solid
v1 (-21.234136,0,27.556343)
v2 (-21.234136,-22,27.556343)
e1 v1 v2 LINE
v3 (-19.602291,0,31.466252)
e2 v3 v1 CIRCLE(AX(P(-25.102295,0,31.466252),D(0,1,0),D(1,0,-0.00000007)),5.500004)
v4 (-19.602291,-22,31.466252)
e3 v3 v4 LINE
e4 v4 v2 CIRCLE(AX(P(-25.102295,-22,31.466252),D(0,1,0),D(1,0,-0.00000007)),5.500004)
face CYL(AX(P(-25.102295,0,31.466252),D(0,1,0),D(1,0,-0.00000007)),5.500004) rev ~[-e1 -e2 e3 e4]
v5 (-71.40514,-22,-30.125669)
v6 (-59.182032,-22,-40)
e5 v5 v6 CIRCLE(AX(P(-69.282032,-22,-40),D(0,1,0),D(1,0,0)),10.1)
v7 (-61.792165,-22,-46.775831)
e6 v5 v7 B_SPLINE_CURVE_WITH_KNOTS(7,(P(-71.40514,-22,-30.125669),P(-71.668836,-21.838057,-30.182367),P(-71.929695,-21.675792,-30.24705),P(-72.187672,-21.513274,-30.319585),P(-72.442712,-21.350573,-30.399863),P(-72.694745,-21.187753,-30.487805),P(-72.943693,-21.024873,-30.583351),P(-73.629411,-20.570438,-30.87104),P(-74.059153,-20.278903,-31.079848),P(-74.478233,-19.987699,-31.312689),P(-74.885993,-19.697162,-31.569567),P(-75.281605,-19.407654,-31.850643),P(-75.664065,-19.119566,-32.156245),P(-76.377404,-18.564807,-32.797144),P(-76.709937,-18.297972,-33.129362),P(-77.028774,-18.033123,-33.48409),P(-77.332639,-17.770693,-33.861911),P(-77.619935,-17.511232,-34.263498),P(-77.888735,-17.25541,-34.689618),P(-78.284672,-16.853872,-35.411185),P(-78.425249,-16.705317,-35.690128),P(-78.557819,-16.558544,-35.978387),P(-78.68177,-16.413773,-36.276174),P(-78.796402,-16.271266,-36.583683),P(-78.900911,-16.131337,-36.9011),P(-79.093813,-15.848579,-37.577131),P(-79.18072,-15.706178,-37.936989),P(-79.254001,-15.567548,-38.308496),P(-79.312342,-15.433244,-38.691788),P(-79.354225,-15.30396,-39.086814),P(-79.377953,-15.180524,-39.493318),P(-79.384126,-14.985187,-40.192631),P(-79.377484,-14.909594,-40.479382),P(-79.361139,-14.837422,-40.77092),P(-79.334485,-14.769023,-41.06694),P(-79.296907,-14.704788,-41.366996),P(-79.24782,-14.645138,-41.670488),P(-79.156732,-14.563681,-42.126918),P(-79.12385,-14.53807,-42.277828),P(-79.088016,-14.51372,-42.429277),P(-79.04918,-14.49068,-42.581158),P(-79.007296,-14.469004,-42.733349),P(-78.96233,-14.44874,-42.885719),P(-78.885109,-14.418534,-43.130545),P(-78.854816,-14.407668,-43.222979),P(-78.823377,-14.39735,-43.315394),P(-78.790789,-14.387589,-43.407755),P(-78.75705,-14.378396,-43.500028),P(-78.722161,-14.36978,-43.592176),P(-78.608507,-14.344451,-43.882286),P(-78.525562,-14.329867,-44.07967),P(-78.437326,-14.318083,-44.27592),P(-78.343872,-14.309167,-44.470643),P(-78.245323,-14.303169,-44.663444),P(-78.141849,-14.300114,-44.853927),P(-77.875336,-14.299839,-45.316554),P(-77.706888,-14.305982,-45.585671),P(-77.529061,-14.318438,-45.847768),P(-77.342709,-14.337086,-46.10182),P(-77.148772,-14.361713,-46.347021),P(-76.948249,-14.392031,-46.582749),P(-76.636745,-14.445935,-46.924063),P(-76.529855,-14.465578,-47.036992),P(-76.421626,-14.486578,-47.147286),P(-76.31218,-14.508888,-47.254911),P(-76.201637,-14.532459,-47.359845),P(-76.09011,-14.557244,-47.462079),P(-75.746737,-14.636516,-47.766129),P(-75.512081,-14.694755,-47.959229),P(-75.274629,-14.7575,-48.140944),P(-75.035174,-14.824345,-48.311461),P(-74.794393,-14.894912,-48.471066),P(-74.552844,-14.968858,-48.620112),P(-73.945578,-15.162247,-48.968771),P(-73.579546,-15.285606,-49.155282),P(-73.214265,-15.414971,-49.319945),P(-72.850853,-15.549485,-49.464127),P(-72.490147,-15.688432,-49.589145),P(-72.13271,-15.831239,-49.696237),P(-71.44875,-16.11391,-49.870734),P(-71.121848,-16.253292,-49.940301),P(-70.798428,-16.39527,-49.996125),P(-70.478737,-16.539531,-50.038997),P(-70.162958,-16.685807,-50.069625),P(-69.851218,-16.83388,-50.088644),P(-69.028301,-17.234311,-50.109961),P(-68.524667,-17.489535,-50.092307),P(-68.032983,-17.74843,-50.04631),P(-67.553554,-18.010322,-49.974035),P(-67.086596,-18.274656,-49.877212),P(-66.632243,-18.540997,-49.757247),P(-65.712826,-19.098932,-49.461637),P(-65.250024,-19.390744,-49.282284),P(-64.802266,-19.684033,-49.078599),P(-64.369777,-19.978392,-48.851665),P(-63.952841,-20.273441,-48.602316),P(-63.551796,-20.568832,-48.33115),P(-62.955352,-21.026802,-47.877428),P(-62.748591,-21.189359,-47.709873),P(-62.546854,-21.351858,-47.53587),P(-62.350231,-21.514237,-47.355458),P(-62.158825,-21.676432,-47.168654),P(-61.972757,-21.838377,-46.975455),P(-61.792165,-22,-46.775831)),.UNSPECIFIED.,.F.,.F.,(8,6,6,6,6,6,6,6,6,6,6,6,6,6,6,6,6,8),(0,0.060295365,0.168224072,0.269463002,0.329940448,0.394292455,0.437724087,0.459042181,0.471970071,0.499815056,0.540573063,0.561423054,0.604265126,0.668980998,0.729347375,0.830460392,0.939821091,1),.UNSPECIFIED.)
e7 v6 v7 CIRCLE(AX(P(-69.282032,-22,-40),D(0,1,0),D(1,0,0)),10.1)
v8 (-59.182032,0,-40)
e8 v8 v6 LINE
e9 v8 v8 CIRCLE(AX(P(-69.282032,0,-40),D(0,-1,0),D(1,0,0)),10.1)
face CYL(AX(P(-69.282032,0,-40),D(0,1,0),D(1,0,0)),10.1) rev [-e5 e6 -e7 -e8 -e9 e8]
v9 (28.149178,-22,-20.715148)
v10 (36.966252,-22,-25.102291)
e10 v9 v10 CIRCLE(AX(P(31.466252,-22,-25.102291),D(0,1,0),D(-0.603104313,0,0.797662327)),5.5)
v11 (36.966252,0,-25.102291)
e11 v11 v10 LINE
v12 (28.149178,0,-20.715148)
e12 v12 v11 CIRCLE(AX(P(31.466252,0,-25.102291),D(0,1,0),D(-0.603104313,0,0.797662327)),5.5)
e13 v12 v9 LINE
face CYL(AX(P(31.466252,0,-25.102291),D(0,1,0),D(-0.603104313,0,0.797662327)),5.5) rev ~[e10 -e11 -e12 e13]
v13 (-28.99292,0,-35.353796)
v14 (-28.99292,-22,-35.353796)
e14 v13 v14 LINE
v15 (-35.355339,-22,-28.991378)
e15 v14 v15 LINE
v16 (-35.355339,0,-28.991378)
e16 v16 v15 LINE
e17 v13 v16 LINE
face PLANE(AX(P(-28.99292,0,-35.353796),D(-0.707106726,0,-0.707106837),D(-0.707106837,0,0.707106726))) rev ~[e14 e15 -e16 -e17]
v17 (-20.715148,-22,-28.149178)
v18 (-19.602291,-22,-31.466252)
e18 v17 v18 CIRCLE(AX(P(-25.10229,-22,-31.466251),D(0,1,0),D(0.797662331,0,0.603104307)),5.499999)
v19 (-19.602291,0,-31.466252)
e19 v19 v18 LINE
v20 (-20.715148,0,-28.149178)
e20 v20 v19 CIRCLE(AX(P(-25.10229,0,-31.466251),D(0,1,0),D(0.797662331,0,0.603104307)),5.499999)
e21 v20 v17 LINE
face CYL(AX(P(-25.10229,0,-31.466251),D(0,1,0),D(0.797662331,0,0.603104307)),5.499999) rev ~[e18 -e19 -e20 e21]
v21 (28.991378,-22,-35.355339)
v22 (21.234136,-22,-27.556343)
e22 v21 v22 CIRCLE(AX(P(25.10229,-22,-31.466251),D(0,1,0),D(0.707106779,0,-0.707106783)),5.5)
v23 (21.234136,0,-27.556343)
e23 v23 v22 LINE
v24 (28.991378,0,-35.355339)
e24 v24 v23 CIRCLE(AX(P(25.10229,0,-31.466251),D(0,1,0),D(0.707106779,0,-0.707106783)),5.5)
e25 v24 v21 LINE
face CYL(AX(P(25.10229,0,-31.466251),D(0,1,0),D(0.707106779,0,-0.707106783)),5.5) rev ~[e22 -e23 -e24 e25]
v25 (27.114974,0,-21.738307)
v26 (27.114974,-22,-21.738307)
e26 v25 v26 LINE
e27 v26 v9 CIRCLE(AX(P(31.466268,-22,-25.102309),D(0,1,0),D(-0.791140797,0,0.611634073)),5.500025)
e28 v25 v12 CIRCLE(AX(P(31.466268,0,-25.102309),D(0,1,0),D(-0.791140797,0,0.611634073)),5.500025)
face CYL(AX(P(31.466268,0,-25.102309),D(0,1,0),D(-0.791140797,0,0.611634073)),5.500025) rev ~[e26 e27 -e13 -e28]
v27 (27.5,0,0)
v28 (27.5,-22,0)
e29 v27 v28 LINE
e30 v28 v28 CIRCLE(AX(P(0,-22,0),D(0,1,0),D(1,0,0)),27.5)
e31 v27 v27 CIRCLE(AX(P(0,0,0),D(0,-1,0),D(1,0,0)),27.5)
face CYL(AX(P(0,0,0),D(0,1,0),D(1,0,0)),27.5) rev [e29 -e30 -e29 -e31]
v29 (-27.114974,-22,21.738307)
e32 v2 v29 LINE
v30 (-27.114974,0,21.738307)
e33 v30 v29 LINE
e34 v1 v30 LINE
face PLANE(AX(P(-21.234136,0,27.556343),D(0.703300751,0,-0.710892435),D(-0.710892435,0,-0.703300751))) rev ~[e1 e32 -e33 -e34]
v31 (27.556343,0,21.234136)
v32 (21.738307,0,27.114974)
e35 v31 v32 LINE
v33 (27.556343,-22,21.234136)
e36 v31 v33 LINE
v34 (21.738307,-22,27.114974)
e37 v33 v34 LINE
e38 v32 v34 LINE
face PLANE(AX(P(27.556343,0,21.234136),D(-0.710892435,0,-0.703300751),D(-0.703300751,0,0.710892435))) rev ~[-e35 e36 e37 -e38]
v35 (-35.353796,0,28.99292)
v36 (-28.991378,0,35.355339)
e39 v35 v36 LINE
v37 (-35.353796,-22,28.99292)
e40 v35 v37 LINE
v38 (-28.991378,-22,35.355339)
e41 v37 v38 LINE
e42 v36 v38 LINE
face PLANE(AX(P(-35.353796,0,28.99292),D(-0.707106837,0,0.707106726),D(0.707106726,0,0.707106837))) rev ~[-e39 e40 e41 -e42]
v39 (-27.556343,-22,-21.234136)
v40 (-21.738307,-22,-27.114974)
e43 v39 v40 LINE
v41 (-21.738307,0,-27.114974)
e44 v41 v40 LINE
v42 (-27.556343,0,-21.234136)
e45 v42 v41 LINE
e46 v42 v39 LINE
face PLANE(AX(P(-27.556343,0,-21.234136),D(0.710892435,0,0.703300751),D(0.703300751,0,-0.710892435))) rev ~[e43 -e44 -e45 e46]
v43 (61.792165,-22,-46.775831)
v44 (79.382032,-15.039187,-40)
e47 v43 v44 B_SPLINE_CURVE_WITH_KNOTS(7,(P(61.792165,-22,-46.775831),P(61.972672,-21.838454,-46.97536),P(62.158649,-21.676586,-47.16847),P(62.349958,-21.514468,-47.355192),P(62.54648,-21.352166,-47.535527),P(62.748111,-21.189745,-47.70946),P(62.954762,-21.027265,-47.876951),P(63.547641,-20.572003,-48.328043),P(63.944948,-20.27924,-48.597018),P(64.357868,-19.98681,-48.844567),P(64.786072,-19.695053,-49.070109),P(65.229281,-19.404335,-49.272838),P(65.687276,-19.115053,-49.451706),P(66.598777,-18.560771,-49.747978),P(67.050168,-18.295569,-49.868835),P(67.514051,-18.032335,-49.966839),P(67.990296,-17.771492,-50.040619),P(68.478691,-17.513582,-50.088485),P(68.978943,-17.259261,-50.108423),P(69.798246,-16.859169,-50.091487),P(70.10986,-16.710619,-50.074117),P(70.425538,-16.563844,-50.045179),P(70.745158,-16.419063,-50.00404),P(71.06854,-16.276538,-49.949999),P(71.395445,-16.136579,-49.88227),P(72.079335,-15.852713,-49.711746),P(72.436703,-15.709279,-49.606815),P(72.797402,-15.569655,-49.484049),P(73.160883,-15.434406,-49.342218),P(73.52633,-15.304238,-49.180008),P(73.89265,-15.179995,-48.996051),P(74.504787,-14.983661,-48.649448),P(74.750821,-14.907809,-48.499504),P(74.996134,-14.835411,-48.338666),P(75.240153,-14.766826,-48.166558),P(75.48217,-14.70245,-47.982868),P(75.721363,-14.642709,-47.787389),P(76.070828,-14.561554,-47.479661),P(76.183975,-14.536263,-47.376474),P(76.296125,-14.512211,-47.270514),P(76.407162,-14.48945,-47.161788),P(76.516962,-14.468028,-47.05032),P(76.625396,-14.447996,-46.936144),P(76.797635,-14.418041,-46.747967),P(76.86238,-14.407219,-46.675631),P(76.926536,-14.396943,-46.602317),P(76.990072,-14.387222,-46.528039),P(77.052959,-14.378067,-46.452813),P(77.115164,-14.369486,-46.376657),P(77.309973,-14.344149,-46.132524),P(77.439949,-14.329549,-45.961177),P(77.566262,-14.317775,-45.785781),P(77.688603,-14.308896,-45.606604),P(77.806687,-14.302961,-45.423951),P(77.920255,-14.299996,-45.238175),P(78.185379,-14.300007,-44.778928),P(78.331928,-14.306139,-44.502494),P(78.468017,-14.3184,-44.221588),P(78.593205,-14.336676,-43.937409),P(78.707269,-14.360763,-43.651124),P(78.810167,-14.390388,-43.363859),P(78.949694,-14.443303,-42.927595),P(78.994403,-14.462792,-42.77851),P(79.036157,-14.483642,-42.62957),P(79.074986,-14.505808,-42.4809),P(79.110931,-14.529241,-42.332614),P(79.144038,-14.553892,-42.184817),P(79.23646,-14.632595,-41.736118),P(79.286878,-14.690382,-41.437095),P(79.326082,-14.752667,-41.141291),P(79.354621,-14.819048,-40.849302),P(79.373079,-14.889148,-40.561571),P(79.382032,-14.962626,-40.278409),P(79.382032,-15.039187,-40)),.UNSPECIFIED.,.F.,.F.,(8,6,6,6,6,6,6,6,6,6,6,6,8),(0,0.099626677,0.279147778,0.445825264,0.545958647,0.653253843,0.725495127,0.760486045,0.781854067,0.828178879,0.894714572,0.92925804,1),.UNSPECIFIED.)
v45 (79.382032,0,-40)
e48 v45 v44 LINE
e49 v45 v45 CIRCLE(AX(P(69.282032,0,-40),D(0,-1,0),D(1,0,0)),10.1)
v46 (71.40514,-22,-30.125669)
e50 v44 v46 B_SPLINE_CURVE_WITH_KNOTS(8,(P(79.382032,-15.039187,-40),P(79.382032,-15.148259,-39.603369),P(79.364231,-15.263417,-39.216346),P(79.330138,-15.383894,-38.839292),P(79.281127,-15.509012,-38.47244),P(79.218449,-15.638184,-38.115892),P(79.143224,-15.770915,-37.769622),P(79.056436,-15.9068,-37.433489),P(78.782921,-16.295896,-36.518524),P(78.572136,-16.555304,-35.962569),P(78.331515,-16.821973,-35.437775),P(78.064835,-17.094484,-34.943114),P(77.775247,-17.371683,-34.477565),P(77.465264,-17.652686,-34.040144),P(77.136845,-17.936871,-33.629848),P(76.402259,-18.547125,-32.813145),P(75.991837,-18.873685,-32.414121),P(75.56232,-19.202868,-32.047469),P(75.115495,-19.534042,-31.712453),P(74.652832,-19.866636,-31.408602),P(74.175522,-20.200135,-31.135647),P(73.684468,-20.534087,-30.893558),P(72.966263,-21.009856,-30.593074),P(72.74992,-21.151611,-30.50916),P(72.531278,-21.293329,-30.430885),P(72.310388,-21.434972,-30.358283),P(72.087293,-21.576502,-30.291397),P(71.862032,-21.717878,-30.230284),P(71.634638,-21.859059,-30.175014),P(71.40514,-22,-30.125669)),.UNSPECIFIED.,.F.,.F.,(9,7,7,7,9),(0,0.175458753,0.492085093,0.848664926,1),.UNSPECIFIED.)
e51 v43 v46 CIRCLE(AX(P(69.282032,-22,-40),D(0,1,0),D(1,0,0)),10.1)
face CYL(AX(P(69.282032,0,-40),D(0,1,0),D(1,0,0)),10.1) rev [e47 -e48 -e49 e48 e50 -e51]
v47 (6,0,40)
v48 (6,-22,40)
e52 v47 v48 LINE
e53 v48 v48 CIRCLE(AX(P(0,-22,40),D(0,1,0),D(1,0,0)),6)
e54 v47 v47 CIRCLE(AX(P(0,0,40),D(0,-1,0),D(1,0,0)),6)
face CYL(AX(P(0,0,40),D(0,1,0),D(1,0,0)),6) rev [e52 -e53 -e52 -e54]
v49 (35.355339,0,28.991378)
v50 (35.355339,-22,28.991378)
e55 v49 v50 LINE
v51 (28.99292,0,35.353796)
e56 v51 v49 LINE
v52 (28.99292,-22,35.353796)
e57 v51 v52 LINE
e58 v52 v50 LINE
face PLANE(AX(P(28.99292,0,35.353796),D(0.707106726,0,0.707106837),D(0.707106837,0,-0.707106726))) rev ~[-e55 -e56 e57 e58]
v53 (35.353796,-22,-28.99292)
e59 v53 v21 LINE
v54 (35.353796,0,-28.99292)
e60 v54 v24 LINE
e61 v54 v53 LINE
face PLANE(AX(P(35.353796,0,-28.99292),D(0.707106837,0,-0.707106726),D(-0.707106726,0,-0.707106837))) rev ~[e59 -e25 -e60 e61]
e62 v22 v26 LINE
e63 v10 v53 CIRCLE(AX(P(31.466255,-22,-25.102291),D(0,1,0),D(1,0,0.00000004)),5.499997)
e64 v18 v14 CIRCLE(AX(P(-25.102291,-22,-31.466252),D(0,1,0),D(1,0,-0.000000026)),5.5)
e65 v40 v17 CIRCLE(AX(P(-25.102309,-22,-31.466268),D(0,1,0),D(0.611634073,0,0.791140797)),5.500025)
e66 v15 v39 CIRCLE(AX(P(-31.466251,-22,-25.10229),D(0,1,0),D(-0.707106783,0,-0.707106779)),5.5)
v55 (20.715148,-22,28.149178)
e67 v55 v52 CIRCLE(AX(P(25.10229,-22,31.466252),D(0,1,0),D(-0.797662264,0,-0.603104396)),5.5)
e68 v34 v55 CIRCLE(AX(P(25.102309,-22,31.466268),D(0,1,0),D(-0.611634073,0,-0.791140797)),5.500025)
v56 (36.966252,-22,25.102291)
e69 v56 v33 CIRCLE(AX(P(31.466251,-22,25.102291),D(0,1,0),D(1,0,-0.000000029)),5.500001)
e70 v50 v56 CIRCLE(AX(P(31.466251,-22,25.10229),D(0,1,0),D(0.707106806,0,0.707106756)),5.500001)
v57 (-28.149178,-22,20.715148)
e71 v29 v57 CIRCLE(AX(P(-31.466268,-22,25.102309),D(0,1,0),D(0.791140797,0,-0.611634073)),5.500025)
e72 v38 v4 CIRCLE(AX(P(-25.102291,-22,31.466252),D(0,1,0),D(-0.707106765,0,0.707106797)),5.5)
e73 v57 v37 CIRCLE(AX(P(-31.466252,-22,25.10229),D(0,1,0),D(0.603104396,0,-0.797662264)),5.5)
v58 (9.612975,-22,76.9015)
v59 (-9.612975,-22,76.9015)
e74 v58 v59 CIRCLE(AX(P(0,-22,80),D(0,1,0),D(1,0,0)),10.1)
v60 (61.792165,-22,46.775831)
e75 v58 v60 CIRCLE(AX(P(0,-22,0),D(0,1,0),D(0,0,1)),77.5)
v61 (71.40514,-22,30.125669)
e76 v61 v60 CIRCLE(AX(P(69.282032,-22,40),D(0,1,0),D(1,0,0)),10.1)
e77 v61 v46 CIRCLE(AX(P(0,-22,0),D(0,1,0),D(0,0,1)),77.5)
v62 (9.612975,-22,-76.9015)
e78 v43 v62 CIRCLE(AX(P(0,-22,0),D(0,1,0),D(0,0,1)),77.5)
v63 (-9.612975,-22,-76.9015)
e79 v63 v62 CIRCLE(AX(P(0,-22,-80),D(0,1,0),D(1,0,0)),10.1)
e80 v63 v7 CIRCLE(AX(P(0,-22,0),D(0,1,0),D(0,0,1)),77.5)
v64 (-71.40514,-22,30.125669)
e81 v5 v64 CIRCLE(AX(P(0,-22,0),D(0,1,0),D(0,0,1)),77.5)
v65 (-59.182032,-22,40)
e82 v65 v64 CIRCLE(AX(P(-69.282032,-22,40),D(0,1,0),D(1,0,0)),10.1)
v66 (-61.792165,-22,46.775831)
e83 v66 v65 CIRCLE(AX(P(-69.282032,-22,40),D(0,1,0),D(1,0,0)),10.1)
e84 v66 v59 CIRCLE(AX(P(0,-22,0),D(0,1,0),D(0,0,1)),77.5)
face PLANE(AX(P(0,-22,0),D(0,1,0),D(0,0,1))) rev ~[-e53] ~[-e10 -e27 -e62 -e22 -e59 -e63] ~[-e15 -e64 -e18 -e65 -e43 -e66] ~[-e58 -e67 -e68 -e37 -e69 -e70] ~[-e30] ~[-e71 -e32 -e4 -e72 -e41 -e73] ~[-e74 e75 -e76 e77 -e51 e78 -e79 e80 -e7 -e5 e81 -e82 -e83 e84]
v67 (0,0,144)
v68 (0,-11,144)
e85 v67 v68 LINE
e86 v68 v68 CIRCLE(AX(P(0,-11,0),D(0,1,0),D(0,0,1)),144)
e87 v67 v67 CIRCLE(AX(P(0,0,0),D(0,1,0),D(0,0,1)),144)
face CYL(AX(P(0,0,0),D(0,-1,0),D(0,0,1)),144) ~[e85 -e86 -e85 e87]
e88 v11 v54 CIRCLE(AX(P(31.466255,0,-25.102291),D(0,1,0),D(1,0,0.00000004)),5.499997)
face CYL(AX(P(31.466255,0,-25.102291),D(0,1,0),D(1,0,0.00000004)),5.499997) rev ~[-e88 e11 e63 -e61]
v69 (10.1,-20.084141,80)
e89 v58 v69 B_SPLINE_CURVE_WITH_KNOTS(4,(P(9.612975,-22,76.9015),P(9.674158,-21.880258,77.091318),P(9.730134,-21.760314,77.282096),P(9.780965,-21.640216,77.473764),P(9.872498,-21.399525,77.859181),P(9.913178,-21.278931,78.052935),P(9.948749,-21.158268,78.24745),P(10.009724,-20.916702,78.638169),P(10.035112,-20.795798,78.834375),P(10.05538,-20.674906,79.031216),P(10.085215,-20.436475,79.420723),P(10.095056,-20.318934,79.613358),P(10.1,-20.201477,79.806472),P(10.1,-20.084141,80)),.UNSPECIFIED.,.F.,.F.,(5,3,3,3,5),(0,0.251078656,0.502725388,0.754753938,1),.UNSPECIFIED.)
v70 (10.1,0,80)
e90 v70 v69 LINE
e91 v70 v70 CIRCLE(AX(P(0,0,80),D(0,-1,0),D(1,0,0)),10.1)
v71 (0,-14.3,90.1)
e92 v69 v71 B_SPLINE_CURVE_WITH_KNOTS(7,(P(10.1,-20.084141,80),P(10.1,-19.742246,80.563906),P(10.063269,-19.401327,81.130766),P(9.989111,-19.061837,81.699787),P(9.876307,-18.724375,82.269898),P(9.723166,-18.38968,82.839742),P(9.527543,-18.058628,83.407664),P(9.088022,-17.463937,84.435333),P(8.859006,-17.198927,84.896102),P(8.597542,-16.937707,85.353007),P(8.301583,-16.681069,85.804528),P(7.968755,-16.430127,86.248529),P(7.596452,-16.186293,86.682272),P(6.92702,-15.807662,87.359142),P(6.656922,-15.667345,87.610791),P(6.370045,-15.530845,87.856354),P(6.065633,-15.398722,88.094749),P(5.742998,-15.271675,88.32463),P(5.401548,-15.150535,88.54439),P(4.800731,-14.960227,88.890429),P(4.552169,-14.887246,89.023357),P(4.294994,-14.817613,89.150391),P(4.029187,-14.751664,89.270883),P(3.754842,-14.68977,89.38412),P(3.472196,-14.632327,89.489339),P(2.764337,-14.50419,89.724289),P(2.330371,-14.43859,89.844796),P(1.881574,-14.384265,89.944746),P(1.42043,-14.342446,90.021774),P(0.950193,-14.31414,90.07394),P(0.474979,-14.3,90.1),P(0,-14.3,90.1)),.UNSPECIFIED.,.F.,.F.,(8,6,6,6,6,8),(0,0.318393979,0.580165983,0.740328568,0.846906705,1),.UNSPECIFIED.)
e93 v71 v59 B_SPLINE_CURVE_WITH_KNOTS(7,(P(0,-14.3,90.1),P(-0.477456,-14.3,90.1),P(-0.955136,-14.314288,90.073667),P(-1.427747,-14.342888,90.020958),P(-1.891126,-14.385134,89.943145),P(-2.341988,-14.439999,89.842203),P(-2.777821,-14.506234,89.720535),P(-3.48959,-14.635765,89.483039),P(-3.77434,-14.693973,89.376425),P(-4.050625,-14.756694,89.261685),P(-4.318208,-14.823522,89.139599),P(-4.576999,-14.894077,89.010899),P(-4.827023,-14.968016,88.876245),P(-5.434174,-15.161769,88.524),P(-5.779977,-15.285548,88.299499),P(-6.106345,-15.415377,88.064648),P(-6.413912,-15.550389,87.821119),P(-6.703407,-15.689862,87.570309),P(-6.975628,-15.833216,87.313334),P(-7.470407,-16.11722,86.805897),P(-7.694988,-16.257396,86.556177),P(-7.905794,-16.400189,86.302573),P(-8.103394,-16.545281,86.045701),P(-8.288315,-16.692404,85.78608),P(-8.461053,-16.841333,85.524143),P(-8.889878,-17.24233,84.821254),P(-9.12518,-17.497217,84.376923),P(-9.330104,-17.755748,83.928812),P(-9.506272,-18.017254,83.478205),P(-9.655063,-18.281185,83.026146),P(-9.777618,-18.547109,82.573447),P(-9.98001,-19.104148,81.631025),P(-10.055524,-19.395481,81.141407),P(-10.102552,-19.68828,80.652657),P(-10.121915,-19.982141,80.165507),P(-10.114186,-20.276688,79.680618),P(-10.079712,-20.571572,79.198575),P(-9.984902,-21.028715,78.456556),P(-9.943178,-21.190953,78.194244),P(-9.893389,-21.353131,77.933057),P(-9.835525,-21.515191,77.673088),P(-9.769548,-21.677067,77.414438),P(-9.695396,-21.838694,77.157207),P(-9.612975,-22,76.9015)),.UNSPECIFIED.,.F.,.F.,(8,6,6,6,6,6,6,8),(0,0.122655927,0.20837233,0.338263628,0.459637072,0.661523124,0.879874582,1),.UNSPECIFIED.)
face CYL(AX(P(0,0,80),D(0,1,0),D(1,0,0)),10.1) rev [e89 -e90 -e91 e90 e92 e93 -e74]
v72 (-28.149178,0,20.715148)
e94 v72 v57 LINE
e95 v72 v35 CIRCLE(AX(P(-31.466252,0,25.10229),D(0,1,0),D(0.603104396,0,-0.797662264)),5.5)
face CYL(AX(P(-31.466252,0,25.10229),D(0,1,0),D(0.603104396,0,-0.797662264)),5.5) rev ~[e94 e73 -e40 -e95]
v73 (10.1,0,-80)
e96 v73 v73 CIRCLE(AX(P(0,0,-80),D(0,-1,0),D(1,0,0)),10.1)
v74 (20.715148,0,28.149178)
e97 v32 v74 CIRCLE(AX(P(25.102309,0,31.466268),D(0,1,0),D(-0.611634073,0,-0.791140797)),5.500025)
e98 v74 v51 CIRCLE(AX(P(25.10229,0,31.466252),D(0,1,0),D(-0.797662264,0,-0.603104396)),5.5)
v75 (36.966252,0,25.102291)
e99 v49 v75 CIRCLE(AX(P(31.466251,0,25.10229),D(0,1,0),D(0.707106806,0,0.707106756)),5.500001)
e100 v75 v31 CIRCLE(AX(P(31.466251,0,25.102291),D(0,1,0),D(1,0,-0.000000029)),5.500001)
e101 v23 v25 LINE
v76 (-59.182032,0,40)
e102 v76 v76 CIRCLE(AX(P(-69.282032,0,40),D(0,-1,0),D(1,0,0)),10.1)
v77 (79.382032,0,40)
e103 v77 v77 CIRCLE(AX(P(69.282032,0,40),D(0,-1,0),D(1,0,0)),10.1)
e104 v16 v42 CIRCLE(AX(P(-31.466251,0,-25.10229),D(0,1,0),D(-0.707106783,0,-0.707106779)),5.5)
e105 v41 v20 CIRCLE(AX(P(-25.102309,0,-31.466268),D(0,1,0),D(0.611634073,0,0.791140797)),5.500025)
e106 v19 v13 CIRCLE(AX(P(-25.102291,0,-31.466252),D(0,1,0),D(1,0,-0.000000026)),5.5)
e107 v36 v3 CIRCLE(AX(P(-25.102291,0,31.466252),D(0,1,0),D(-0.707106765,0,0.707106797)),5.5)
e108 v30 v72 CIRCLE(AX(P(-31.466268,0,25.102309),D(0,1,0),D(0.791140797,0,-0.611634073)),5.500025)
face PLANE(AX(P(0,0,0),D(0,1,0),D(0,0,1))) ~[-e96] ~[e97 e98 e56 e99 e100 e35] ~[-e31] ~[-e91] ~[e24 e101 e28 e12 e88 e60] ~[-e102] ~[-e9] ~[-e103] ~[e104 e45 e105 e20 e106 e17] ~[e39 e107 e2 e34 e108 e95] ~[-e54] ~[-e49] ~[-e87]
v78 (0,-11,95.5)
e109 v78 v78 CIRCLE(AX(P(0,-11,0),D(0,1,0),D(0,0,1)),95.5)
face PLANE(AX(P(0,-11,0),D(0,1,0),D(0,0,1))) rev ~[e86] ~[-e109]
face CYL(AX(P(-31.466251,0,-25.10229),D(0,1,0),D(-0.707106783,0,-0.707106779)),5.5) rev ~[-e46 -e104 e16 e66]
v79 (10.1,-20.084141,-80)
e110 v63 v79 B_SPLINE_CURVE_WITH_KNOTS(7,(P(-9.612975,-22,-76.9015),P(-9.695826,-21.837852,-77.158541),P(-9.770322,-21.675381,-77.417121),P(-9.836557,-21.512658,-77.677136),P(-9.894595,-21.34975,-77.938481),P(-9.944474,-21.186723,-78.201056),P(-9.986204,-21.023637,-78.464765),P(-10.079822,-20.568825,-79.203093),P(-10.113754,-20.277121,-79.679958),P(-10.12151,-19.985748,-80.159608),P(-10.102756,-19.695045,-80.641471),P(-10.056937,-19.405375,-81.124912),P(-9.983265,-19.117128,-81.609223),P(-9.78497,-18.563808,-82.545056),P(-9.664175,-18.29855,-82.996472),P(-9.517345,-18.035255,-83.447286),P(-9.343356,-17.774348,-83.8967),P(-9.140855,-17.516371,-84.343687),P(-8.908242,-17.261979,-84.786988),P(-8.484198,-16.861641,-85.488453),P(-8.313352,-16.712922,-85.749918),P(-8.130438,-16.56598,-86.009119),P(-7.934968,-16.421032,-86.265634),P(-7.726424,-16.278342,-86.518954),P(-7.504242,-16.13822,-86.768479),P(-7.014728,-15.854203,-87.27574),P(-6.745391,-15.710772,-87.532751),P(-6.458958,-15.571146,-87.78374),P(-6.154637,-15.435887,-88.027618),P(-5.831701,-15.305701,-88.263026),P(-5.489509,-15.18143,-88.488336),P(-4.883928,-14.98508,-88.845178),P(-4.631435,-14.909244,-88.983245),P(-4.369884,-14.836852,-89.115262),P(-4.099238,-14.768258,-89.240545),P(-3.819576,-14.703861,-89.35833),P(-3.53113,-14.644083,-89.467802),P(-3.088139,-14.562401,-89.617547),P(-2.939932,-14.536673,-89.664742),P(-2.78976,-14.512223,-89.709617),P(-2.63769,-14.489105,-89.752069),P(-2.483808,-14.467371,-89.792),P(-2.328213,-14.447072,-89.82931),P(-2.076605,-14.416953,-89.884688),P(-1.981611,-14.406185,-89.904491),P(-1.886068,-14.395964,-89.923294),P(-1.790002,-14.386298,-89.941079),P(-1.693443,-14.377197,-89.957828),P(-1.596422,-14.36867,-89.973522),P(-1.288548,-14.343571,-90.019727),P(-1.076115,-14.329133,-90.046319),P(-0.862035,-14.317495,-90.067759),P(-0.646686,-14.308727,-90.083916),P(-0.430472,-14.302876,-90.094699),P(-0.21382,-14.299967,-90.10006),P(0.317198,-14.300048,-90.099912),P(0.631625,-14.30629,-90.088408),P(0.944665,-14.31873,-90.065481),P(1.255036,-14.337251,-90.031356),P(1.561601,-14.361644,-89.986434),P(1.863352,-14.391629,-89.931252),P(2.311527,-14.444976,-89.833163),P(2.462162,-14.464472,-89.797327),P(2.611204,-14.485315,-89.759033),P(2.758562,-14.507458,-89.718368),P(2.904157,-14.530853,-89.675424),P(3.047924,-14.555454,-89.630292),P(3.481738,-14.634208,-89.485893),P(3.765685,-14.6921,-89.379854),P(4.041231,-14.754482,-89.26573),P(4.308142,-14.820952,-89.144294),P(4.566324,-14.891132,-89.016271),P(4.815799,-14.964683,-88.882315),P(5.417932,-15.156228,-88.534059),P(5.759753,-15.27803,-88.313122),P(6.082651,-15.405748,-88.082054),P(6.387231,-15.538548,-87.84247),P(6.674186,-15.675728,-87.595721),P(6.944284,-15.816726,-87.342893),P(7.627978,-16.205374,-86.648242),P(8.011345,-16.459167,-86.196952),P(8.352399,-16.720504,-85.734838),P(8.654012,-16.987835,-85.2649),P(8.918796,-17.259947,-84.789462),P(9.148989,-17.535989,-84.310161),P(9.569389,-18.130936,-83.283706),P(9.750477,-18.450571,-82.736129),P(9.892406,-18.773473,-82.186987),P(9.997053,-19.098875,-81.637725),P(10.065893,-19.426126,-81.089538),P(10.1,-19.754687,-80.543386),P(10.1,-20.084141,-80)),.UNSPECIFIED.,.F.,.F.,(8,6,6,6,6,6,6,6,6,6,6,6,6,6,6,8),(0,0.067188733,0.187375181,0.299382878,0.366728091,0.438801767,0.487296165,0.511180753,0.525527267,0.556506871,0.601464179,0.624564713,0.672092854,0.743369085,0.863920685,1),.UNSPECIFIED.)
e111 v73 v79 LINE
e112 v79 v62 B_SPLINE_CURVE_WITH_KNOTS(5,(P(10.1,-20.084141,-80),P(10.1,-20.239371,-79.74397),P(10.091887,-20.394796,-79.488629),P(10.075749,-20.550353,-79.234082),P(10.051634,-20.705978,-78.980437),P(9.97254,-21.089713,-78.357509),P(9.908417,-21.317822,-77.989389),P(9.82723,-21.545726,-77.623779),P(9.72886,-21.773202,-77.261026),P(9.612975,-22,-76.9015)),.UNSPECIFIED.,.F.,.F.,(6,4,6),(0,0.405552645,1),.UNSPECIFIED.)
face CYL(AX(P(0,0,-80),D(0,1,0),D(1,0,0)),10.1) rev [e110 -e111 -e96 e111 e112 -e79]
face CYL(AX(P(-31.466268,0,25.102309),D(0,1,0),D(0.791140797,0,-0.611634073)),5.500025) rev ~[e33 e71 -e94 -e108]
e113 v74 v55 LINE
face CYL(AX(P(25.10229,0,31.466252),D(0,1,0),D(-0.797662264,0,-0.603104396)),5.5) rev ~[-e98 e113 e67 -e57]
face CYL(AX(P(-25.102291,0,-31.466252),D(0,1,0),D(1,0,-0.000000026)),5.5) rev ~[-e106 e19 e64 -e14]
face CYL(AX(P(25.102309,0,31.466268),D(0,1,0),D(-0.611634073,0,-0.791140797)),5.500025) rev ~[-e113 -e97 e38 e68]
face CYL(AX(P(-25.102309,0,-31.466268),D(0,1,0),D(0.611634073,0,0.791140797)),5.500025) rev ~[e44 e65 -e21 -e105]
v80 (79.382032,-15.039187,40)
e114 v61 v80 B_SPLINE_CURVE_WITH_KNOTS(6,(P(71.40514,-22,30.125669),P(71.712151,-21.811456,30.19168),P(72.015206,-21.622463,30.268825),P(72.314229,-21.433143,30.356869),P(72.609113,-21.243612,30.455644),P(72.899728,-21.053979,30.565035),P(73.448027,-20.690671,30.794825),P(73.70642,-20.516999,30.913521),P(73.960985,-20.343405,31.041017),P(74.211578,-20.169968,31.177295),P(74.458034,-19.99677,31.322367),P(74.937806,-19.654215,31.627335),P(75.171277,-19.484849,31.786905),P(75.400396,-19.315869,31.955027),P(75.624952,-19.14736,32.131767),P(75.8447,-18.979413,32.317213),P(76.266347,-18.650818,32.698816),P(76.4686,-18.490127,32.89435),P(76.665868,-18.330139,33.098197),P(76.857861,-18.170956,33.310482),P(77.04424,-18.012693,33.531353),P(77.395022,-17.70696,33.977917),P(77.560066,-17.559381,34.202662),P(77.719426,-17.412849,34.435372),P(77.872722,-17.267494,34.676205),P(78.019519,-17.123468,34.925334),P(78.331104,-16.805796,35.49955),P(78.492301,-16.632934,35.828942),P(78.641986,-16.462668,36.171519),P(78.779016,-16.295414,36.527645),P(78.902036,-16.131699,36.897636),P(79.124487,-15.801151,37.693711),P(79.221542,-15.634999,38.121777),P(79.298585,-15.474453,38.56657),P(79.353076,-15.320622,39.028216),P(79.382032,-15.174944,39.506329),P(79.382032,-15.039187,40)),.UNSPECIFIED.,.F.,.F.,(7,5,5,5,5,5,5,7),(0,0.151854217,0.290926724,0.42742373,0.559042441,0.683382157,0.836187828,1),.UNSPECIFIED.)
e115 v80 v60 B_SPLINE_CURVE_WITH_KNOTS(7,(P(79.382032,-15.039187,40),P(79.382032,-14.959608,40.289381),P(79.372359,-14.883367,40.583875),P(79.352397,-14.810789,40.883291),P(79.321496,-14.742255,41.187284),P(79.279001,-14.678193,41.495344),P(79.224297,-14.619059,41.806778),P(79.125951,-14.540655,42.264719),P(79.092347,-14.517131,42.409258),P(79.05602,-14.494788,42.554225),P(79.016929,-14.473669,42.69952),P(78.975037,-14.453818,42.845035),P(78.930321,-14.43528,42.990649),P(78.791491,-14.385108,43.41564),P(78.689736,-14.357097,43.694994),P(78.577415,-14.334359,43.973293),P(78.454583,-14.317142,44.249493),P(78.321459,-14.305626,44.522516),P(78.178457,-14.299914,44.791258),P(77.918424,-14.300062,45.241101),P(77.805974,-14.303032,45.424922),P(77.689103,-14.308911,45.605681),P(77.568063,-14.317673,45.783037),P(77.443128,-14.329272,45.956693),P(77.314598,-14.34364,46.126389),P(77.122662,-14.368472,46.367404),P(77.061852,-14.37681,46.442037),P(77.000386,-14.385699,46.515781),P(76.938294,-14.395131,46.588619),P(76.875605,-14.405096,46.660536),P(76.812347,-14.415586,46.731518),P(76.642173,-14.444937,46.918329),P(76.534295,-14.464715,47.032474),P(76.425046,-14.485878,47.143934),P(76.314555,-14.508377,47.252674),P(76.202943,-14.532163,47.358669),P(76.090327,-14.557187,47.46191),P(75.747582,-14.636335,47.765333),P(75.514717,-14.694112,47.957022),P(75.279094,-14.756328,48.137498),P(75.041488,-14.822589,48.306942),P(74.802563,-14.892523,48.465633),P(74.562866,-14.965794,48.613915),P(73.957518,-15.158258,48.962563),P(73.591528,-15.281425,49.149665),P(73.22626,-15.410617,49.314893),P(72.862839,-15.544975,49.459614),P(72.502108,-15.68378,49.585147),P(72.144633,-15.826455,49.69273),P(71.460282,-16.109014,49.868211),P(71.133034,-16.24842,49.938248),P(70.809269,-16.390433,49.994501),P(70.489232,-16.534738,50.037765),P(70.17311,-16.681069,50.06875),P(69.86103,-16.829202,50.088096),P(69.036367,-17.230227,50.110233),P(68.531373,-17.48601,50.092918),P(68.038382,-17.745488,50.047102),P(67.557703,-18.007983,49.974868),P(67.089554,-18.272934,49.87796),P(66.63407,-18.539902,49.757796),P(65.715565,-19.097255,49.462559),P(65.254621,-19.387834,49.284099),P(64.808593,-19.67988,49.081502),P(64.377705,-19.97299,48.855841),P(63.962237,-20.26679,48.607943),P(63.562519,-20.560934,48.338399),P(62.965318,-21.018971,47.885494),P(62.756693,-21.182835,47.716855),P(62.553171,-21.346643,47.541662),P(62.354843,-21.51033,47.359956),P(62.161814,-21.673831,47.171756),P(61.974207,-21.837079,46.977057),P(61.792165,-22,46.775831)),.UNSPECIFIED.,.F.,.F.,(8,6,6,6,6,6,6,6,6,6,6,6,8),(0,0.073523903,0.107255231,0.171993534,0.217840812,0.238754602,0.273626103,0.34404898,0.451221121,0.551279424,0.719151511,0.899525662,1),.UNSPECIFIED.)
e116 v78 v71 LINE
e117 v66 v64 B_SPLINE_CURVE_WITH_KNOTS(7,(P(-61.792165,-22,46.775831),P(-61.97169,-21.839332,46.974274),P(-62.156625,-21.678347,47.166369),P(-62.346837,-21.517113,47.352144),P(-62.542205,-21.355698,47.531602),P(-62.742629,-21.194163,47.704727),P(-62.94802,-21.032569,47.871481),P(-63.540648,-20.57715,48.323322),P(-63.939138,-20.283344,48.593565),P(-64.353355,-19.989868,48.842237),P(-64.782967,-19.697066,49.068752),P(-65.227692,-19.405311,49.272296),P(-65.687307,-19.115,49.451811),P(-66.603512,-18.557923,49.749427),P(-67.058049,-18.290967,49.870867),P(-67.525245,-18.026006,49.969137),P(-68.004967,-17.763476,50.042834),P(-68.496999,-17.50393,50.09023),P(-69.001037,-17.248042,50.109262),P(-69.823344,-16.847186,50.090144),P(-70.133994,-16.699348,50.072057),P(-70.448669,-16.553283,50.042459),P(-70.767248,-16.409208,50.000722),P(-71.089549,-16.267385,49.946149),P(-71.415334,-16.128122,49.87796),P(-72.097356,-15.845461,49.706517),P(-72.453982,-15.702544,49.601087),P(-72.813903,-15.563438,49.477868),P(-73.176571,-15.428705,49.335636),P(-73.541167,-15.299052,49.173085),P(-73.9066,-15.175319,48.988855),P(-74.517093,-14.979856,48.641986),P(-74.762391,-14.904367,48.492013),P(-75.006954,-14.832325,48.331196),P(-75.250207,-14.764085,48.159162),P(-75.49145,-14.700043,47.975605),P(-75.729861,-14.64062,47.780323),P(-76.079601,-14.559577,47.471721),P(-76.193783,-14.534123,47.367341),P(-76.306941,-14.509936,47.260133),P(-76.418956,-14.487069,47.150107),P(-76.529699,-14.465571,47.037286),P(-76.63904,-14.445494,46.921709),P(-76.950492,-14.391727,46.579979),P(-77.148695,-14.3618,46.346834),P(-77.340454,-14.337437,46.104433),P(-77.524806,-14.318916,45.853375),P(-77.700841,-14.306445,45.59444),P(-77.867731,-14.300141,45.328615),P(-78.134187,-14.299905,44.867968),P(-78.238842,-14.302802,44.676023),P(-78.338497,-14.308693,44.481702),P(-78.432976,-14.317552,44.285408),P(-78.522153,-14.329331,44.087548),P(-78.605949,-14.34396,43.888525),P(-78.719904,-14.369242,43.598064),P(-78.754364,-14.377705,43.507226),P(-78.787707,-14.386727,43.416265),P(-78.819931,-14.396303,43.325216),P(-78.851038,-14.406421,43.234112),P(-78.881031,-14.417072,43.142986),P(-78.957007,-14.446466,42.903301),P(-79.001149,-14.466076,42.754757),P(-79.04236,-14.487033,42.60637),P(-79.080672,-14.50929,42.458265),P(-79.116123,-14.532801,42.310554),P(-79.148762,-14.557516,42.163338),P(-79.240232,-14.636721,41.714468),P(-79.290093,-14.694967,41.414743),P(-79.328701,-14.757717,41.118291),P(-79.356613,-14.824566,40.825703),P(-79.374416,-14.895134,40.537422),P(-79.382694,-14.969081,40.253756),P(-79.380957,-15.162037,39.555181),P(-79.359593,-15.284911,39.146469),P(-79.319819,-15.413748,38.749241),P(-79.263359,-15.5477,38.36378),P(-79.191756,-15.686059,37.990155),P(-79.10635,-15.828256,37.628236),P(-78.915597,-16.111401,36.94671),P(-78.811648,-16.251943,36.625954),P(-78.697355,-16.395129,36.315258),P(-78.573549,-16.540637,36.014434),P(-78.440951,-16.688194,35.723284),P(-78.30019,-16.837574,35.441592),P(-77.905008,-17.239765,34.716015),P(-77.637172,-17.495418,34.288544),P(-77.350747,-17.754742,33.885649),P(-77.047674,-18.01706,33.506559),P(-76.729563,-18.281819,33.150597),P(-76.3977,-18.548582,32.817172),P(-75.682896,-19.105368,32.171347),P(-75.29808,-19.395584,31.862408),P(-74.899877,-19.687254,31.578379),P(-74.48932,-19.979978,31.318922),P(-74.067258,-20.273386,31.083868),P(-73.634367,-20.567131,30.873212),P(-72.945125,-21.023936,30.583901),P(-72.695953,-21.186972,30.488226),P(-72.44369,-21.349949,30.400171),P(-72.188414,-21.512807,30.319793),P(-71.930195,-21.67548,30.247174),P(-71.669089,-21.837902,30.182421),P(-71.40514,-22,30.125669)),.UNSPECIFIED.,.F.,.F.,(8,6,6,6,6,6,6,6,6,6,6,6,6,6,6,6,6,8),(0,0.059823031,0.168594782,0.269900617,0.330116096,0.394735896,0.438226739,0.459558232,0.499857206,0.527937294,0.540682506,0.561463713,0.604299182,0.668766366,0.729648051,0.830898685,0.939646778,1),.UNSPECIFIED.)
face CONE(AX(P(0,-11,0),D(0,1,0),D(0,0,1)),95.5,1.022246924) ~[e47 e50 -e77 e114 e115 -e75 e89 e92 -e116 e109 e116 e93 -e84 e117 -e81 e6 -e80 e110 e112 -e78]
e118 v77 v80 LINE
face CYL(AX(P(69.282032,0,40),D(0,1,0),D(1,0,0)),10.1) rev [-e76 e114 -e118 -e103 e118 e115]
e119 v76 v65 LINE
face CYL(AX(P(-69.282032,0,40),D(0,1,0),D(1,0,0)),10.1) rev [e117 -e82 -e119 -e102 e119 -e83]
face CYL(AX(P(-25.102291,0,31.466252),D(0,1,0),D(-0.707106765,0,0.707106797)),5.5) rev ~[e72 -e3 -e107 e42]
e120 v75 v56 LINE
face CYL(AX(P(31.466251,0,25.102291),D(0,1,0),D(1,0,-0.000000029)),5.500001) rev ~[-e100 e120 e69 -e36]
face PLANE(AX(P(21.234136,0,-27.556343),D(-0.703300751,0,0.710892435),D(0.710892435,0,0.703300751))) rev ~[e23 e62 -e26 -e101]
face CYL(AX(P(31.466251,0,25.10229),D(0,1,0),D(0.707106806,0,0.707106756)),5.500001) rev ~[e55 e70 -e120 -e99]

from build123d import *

# Parameters (mm, degrees)
F0_R     = 144
F0_R_2   = 10.1
F0_R_3   = 27.5
F0_R_4   = 6
F3_DEPTH = 25


with BuildPart() as f2:
    # F1 (on Right) → F2 (revolve)
    with BuildSketch(Plane.YZ):
        Polygon((-22, 0), (0, 0), (0, 144), (-11, 144), (-11, 95.5), (-22, 77.5), align=None)
    revolve(axis=Axis((0, -11, 0), (0, 1, 0)))

    # F0 (on Front) → F3 (intersect)
    with BuildSketch(Plane.XZ):
        Circle(F0_R)
        with Locations((-69.282032, -40)):
            Circle(F0_R_2, mode=Mode.SUBTRACT)
        with BuildLine():
            ThreePointArc((-35.355339, -28.991378), (-35.344887, -21.202779), (-27.556343, -21.234136))
            Line((-27.556343, -21.234136), (-21.738307, -27.114974))
            ThreePointArc((-21.738307, -27.114974), (-21.192382, -27.598098), (-20.715148, -28.149178))
            ThreePointArc((-20.715148, -28.149178), (-19.887922, -29.716864), (-19.602291, -31.466252))
            ThreePointArc((-19.602291, -31.466252), (-22.998539, -36.548006), (-28.99292, -35.353796))
            Line((-28.99292, -35.353796), (-35.355339, -28.991378))
        make_face(mode=Mode.SUBTRACT)
        with Locations((0, -80)):
            Circle(F0_R_2, mode=Mode.SUBTRACT)
        with Locations((69.282032, -40)):
            Circle(F0_R_2, mode=Mode.SUBTRACT)
        with BuildLine():
            ThreePointArc((28.991378, -35.355339), (21.202779, -35.344887), (21.234136, -27.556343))
            Line((21.234136, -27.556343), (27.114974, -21.738307))
            ThreePointArc((27.114974, -21.738307), (27.598098, -21.192382), (28.149178, -20.715148))
            ThreePointArc((28.149178, -20.715148), (33.916363, -20.178171), (36.966252, -25.102291))
            ThreePointArc((36.966252, -25.102291), (36.547172, -27.208057), (35.353796, -28.99292))
            Line((35.353796, -28.99292), (28.991378, -35.355339))
        make_face(mode=Mode.SUBTRACT)
        with BuildLine():
            ThreePointArc((-28.991378, 35.355339), (-22.997532, 36.547589), (-19.602291, 31.466252))
            ThreePointArc((-19.602291, 31.466252), (-20.026621, 29.347862), (-21.234136, 27.556343))
            Line((-21.234136, 27.556343), (-27.114974, 21.738307))
            ThreePointArc((-27.114974, 21.738307), (-27.598098, 21.192382), (-28.149178, 20.715148))
            ThreePointArc((-28.149178, 20.715148), (-35.614955, 21.491437), (-35.353796, 28.99292))
            Line((-35.353796, 28.99292), (-28.991378, 35.355339))
        make_face(mode=Mode.SUBTRACT)
        with Locations((-69.282032, 40)):
            Circle(F0_R_2, mode=Mode.SUBTRACT)
        Circle(F0_R_3, mode=Mode.SUBTRACT)
        with BuildLine():
            ThreePointArc((35.355339, 28.991378), (36.547589, 27.20705), (36.966252, 25.102291))
            ThreePointArc((36.966252, 25.102291), (33.557364, 20.015322), (27.556343, 21.234136))
            Line((27.556343, 21.234136), (21.738307, 27.114974))
            ThreePointArc((21.738307, 27.114974), (21.192382, 27.598098), (20.715148, 28.149178))
            ThreePointArc((20.715148, 28.149178), (21.491437, 35.614955), (28.99292, 35.353796))
            Line((28.99292, 35.353796), (35.355339, 28.991378))
        make_face(mode=Mode.SUBTRACT)
        with Locations((0, 40)):
            Circle(F0_R_4, mode=Mode.SUBTRACT)
        with Locations((69.282032, 40)):
            Circle(F0_R_2, mode=Mode.SUBTRACT)
        with Locations((0, 80)):
            Circle(F0_R_2, mode=Mode.SUBTRACT)
    extrude(amount=F3_DEPTH, mode=Mode.INTERSECT)


solid = f2.part
